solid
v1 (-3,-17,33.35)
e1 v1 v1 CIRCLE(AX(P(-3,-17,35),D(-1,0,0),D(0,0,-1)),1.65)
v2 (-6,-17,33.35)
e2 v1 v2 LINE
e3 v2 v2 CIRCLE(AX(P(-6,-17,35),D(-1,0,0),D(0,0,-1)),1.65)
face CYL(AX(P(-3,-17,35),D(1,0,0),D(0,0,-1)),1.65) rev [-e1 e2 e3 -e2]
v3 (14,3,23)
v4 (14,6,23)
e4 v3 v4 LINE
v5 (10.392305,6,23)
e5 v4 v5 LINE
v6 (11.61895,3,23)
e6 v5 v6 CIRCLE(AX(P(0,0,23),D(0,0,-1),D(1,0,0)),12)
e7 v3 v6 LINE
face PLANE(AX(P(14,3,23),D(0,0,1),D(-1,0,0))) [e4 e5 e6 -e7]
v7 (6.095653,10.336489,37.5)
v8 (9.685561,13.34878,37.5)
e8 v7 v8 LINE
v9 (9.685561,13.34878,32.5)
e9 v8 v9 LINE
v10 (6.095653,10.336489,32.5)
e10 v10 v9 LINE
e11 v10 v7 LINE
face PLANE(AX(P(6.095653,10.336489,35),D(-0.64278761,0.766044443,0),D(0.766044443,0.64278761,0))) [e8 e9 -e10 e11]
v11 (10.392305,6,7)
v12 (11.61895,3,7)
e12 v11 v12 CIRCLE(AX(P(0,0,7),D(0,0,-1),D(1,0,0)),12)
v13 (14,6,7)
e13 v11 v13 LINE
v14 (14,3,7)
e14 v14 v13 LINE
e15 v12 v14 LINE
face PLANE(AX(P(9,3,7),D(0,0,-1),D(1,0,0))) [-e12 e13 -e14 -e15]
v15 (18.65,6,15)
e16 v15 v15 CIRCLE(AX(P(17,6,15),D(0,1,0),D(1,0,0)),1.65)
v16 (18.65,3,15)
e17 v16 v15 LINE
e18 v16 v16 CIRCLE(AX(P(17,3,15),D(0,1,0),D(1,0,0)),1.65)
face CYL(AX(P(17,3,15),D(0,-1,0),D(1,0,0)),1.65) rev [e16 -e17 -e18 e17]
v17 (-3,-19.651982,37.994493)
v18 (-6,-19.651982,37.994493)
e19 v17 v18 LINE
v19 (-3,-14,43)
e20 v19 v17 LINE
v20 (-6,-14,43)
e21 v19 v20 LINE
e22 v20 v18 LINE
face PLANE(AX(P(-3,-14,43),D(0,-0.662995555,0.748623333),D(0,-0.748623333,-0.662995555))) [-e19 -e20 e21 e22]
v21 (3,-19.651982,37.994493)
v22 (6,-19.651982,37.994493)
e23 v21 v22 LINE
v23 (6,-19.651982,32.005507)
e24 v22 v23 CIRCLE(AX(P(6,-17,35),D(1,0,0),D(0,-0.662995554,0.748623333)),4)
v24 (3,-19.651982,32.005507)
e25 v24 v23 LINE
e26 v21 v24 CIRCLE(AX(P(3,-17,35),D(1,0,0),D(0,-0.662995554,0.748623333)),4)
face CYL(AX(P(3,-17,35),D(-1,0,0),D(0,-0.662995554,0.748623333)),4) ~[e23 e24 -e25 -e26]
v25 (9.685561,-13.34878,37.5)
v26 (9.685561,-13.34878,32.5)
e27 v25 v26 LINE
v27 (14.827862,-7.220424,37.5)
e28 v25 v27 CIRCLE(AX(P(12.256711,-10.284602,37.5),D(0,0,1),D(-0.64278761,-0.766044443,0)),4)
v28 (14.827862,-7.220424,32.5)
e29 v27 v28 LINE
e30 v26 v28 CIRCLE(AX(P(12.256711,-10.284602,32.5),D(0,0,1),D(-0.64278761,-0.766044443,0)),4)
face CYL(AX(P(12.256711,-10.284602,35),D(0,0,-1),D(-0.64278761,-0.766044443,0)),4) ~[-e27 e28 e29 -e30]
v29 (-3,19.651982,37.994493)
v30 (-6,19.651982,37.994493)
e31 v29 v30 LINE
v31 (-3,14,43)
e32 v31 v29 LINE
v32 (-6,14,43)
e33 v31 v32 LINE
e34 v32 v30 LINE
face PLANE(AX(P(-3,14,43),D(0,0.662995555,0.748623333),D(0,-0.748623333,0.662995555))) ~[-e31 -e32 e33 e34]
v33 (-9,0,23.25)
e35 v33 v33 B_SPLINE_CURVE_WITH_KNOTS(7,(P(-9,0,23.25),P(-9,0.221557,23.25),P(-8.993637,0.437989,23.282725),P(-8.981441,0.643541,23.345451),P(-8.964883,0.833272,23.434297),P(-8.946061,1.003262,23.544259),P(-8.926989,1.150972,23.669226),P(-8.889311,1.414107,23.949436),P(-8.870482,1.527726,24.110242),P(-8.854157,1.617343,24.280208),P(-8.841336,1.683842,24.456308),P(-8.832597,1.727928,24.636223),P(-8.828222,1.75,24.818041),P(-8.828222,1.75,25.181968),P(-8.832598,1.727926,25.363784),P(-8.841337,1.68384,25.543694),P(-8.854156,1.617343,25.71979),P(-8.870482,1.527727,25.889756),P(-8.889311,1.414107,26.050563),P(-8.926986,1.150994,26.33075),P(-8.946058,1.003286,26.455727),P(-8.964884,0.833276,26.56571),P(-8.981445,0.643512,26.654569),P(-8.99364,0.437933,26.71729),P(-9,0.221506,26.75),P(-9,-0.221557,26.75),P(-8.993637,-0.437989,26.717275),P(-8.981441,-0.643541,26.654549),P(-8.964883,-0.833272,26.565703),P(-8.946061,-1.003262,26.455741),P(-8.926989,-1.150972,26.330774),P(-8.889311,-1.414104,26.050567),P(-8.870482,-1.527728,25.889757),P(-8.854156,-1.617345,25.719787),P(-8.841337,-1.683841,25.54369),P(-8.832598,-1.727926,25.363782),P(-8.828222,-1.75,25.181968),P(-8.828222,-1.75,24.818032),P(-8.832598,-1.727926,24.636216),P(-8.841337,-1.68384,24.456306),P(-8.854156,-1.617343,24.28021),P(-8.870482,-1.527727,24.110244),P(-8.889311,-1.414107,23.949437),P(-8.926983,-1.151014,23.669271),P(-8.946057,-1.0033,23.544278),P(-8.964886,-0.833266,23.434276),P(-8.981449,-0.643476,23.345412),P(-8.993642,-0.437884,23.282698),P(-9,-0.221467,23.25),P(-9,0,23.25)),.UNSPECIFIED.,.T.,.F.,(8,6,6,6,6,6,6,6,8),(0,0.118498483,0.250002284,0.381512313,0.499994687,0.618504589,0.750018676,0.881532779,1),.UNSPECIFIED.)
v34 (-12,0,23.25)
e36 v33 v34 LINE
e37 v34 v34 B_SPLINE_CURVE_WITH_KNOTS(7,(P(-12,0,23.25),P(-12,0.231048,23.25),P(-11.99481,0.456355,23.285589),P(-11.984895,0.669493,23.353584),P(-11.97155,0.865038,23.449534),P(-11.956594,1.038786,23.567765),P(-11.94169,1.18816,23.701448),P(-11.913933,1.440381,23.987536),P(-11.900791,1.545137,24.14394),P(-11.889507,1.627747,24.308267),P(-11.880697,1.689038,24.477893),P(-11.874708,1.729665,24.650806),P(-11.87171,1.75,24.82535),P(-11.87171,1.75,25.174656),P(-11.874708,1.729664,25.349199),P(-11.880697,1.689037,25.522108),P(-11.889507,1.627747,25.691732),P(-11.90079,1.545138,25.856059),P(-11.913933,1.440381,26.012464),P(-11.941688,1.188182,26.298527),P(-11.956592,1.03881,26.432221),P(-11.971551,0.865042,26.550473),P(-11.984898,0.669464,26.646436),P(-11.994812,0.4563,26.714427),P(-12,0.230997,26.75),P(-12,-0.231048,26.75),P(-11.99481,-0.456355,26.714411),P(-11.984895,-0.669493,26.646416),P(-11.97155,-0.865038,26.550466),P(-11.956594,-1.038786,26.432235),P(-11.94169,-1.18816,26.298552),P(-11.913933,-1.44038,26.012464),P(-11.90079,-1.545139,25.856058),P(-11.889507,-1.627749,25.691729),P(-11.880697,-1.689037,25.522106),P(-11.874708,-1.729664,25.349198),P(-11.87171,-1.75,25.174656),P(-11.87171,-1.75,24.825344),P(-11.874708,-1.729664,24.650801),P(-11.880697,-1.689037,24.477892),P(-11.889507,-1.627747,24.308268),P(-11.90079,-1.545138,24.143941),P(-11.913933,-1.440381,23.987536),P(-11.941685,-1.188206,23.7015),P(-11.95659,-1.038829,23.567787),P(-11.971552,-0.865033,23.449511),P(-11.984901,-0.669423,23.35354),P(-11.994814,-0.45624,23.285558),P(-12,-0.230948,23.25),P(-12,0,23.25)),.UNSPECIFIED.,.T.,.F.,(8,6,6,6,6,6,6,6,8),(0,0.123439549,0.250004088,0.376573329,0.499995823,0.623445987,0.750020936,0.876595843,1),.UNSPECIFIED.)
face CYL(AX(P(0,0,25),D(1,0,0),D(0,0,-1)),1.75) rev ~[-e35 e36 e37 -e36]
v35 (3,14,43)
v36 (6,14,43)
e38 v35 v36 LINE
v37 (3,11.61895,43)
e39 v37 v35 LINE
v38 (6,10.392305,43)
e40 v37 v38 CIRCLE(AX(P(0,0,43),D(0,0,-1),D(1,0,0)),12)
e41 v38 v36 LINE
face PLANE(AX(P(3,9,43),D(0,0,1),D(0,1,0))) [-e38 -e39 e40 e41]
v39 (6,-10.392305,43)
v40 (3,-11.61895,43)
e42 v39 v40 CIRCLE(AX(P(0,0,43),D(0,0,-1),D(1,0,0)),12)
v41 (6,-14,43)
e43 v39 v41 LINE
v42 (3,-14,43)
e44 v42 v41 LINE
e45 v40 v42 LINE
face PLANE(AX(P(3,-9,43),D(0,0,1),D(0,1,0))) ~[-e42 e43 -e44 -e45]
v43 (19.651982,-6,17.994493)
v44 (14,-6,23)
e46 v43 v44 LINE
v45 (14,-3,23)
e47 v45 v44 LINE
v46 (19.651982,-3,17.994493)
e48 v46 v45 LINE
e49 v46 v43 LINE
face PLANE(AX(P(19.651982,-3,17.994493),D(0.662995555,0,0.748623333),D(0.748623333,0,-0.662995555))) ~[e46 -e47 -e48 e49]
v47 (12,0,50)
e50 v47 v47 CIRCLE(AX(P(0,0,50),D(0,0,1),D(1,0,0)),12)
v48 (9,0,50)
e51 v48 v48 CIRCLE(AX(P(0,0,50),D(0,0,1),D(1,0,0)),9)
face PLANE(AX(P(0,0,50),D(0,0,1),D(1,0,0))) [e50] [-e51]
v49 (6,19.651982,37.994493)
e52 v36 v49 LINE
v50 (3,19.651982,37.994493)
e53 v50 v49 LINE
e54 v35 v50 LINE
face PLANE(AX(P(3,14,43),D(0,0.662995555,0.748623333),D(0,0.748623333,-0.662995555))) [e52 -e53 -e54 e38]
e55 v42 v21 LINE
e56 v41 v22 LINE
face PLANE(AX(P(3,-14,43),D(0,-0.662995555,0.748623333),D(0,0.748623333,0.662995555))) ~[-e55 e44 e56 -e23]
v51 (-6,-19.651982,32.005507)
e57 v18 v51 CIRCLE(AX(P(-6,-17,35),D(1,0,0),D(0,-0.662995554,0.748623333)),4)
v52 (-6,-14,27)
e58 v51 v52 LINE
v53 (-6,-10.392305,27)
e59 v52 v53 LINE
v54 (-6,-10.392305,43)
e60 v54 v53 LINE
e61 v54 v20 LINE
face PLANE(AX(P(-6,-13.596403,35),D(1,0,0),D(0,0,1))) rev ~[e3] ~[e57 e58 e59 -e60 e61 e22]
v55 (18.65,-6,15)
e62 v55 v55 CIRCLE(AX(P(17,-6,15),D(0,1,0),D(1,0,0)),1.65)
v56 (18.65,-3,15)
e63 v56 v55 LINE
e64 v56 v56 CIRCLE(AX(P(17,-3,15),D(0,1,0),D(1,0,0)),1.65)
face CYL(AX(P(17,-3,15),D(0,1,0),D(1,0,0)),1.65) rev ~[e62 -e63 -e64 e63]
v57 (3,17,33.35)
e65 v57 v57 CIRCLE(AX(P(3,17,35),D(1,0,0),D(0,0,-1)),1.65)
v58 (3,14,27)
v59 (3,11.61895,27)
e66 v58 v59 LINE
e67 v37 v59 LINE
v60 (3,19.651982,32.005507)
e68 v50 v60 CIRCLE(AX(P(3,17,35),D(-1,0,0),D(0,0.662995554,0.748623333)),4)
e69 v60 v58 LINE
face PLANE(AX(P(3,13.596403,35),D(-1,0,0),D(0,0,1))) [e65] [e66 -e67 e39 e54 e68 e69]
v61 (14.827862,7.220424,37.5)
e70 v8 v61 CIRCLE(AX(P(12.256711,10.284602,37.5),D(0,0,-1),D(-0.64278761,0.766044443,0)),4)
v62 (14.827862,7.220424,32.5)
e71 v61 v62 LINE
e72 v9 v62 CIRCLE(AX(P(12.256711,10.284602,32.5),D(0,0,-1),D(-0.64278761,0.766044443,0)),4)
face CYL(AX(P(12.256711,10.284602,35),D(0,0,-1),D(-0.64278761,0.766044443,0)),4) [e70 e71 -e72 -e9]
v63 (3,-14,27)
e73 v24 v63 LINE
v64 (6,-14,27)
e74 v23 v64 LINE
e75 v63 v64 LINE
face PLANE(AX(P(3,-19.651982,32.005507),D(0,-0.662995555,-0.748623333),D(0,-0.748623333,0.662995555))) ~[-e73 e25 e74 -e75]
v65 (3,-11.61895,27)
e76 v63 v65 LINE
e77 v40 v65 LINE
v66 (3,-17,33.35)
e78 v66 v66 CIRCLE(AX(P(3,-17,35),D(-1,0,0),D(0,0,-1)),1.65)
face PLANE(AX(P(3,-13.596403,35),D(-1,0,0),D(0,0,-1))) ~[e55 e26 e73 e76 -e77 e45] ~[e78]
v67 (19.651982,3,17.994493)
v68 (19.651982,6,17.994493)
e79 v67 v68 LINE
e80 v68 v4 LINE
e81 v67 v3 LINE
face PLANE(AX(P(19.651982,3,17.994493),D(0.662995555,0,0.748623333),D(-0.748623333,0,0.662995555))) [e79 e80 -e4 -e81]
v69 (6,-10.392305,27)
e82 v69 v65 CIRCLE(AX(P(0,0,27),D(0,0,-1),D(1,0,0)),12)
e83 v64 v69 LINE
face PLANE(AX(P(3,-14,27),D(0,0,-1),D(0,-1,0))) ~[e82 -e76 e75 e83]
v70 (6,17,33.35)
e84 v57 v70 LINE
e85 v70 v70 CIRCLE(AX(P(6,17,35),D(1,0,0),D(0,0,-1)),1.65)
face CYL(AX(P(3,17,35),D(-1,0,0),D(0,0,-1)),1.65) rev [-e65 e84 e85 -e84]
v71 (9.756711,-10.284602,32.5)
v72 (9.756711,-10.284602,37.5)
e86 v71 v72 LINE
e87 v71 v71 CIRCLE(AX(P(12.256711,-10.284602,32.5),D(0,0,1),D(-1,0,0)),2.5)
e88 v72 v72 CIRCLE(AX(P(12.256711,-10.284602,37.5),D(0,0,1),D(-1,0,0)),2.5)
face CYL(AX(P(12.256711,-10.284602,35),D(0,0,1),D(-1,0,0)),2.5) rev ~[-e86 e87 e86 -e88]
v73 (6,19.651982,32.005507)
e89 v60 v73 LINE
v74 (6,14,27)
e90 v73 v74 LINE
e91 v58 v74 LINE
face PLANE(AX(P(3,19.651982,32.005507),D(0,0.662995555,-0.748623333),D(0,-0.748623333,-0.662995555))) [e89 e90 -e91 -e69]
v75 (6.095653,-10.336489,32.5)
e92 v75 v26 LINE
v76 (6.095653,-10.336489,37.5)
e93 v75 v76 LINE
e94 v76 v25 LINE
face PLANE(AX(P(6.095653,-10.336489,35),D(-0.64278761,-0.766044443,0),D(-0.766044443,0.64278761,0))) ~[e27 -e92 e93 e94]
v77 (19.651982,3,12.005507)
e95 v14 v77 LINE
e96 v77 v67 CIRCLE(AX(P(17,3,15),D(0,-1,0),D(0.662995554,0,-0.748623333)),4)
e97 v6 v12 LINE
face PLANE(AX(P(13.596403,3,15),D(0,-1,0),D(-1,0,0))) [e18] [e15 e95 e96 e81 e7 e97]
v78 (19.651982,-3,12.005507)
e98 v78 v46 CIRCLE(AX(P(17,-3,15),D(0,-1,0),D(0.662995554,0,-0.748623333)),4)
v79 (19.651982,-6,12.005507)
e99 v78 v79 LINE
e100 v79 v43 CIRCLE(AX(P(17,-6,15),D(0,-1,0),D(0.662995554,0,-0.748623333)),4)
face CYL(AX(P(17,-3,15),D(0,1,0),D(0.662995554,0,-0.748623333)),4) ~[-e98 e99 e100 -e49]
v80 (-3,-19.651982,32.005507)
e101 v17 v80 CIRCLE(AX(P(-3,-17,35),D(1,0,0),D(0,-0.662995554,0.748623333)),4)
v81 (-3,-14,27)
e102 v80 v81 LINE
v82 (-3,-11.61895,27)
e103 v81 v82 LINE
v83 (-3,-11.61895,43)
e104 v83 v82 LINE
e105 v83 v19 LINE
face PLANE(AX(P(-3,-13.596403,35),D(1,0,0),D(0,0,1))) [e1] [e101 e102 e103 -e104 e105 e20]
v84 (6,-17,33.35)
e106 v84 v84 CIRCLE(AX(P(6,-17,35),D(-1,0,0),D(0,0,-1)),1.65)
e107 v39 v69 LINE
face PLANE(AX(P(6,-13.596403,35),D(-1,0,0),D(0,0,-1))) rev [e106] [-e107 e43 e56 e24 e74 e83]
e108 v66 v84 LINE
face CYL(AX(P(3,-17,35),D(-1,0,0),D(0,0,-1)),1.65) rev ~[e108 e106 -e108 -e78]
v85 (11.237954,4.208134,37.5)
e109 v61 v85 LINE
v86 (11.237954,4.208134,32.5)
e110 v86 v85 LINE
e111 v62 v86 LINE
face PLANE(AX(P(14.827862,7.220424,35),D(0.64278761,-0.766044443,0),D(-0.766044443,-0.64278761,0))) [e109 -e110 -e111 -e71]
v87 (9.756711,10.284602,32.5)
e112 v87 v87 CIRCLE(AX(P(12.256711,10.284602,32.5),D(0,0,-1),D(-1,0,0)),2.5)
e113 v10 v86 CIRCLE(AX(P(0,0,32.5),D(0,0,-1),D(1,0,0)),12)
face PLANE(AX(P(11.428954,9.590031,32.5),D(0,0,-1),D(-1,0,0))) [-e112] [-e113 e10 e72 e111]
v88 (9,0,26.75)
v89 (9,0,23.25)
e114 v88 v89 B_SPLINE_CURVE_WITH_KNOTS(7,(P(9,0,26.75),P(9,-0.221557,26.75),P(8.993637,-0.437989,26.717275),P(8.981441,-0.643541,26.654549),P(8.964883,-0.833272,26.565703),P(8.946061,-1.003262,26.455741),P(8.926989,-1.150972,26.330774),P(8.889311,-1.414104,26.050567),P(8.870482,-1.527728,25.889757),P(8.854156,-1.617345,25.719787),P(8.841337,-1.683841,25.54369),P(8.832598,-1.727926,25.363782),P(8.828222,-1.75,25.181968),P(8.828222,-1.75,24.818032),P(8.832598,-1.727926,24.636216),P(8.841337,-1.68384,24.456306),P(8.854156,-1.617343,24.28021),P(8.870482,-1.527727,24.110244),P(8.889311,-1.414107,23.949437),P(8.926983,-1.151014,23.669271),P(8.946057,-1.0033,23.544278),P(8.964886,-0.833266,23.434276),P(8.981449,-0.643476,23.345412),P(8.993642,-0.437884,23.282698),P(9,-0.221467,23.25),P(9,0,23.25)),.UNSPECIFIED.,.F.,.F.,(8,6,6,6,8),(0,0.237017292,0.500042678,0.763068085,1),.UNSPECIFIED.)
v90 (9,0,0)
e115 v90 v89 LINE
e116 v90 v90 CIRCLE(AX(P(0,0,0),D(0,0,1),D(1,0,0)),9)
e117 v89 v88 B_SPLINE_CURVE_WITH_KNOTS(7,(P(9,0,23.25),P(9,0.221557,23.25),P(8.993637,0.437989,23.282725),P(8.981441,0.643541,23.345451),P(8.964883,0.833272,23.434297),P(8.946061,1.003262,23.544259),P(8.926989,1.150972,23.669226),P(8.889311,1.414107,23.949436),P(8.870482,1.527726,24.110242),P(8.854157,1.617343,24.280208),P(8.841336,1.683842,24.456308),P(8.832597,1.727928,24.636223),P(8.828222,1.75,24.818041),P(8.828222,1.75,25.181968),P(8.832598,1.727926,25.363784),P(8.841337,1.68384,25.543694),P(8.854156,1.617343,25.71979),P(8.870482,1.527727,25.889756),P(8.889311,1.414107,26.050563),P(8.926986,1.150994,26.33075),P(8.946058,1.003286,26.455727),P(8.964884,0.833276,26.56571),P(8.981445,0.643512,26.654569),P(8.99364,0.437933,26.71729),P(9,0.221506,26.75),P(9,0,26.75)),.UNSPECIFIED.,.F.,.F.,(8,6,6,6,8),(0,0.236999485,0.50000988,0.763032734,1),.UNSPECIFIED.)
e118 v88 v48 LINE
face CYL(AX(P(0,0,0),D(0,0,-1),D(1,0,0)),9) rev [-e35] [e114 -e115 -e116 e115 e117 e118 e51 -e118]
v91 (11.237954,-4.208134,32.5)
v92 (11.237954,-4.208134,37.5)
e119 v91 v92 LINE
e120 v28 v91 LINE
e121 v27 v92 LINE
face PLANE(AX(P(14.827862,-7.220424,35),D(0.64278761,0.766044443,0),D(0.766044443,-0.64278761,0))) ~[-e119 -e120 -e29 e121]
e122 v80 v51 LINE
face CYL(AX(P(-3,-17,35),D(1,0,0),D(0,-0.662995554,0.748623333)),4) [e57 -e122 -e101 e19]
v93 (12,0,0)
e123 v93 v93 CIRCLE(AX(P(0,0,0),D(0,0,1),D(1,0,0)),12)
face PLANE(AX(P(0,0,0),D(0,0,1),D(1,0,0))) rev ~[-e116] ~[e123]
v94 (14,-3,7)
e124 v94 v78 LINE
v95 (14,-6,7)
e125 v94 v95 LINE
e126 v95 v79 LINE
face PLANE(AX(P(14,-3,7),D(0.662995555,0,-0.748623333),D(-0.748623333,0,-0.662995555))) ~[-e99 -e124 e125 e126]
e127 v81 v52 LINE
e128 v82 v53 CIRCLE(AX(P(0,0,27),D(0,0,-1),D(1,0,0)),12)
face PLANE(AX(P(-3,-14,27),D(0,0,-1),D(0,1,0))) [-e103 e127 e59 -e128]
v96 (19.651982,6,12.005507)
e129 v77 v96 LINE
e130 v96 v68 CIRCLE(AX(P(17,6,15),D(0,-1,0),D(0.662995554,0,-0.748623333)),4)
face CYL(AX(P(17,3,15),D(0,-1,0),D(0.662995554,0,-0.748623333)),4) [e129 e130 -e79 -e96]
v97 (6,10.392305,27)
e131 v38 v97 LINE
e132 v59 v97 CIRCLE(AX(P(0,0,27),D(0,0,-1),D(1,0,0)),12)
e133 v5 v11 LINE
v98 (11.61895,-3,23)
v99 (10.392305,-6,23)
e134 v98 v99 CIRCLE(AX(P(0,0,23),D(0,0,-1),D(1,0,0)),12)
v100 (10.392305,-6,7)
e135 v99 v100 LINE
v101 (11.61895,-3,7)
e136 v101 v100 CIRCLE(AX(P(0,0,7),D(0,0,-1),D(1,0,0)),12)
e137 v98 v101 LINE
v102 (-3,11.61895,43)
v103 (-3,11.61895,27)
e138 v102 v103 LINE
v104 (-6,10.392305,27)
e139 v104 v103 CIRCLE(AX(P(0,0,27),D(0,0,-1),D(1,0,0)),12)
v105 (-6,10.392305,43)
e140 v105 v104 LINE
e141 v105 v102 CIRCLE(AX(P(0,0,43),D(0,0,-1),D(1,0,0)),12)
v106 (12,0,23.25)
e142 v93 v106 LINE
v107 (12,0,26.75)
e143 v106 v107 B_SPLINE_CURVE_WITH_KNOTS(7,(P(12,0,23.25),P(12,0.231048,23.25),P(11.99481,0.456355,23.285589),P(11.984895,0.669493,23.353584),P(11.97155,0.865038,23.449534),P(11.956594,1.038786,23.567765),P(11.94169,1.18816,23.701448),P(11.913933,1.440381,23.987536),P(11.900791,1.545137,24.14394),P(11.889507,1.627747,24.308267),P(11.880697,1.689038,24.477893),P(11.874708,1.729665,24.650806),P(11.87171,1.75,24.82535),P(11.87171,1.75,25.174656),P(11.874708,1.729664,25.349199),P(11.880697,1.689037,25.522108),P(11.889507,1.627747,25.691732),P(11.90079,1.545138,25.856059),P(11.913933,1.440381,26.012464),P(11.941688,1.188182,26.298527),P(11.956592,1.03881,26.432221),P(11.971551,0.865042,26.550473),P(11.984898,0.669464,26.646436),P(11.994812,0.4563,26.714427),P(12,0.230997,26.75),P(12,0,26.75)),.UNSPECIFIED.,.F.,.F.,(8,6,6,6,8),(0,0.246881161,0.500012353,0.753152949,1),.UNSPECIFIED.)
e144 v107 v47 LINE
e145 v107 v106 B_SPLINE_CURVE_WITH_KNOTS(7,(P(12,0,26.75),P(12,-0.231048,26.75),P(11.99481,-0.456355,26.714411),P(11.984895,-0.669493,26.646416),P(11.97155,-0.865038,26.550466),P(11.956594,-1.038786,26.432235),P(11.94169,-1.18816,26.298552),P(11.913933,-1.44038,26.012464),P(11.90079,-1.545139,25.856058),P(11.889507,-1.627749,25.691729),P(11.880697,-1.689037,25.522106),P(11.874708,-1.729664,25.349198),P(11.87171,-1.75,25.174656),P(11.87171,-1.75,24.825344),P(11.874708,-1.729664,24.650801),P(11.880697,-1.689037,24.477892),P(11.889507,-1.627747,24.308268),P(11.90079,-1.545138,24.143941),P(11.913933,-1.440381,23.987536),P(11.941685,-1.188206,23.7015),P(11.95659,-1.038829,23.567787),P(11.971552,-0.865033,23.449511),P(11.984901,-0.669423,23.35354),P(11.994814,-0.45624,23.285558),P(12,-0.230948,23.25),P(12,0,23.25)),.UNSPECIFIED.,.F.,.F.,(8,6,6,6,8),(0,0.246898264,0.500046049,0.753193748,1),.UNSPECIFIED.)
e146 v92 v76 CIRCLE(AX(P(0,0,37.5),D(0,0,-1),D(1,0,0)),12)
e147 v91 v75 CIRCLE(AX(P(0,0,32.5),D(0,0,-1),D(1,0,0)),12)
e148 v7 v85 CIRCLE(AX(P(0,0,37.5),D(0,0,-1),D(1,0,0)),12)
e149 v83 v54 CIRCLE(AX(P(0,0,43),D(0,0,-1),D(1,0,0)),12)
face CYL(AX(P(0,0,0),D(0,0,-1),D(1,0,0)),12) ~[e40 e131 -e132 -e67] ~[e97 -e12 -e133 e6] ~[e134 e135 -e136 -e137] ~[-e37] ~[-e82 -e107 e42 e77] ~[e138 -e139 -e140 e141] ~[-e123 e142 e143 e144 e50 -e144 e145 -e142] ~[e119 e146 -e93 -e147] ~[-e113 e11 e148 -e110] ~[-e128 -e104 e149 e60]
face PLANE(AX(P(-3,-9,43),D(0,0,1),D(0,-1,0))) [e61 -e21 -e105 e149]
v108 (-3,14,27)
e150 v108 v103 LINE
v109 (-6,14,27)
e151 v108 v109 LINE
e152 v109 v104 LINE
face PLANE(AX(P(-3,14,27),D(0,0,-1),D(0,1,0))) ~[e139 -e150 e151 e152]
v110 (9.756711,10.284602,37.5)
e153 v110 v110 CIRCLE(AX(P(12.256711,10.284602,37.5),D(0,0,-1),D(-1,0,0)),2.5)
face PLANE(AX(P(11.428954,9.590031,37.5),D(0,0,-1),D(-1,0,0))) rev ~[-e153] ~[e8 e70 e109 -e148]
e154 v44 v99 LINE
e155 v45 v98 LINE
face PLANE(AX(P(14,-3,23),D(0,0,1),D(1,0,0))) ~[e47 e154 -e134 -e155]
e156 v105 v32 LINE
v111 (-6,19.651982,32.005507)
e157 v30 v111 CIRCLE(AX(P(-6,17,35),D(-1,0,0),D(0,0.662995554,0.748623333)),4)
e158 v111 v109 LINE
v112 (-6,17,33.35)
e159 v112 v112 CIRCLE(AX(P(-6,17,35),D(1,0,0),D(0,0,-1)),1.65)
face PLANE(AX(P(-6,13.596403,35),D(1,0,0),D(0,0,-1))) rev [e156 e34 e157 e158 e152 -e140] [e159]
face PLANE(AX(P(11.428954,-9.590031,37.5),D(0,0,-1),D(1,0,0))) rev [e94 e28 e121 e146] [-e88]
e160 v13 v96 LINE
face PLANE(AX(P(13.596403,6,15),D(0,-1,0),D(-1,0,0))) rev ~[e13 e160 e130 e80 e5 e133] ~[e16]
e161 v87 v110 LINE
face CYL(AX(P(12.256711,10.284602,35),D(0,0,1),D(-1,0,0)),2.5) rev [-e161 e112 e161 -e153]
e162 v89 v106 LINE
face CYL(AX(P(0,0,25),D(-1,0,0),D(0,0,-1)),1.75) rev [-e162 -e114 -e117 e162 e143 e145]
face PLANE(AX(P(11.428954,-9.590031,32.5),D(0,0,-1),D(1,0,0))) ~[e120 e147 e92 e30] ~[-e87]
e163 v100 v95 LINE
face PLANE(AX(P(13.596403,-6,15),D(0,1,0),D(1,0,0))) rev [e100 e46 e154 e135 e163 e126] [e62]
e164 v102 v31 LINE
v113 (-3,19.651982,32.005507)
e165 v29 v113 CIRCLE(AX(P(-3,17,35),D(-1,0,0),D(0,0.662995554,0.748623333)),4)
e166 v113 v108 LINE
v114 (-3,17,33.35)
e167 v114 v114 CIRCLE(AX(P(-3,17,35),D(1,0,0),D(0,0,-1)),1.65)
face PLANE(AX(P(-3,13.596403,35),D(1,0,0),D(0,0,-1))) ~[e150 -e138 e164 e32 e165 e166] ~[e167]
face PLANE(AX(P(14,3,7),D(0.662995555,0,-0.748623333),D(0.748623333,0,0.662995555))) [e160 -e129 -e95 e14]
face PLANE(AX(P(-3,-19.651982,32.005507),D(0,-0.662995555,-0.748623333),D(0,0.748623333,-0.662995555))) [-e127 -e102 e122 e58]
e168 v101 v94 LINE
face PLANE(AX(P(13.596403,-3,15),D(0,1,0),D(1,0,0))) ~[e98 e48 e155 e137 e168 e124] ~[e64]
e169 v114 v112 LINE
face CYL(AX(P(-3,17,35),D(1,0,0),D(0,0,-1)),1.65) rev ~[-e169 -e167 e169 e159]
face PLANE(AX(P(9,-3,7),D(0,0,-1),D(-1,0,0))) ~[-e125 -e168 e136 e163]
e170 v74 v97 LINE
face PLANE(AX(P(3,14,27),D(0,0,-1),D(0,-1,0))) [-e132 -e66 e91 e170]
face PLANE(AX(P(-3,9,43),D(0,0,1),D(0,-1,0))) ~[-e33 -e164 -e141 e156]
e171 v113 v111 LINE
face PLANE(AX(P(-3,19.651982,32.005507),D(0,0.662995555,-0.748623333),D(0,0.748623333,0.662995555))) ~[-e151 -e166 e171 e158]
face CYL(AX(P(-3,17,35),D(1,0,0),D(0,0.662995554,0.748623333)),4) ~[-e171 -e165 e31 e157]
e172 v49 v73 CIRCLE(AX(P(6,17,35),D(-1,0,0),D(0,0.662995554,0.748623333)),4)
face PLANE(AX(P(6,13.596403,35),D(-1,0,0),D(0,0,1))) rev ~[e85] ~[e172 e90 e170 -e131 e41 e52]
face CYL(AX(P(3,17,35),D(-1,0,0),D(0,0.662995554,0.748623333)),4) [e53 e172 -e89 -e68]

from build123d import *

# Parameters (mm, degrees)
SKETCH_1_R               = 12
SKETCH_1_R_2             = 9
EXTRUDE_1_DEPTH          = 50
SKETCH_2_R               = 1.65
EXTRUDE_2_DEPTH          = 3
SKETCH_3_R               = 1.75
CUT_EXTRUDE_1_DEPTH      = 13
CUT_EXTRUDE_1_DEPTH_BACK = 13
MIRROR_2_COPY_1_SKETCH_R = 1.65
MIRROR_2_COPY_1_DEPTH    = 3
SKETCH_5_R               = 1.65
EXTRUDE_3_DEPTH          = 3
SKETCH_6_R               = 2.5
EXTRUDE_4_DEPTH          = 2.5


with BuildPart() as part:
    # ｽｹｯﾁ1 → ﾎﾞｽ - 押し出し1 (new body)
    with BuildSketch(Plane.XY):
        Circle(SKETCH_1_R)
        Circle(SKETCH_1_R_2, mode=Mode.SUBTRACT)
    extrude(amount=EXTRUDE_1_DEPTH)

    # ｽｹｯﾁ2 → ﾎﾞｽ - 押し出し2 (add)
    with BuildSketch(Plane(origin=(3, 0, 0), x_dir=(0, 0, -1), z_dir=(1, 0, 0))):
        with BuildLine():
            Line((-43, 9), (-43, 14))
            Line((-43, 14), (-37.994493332, 19.651982218))
            ThreePointArc((-37.994493332, 19.651982218), (-35, 21), (-32.005506668, 19.651982218))
            Line((-32.005506668, 19.651982218), (-27, 14))
            Line((-27, 14), (-27, 9))
            Line((-27, 9), (-43, 9))
        make_face()
        with Locations((-35, 17)):
            Circle(SKETCH_2_R, mode=Mode.SUBTRACT)
    extrude_2 = extrude(amount=EXTRUDE_2_DEPTH)

    # ﾐﾗｰ1: ﾎﾞｽ - 押し出し2 across plane
    add(extrude_2.mirror(Plane(origin=(0, 0, 0), x_dir=(0, 0, 1), z_dir=(1, 0, 0))))

    # ｽｹｯﾁ3 → ｶｯﾄ - 押し出し1 (cut, two sides)
    with BuildSketch(Plane(origin=(0, 0, 0), x_dir=(0, 0, -1), z_dir=(1, 0, 0))) as cut_extrude_1_sk:
        with Locations((-25, 0)):
            Circle(SKETCH_3_R)
    extrude(amount=CUT_EXTRUDE_1_DEPTH, mode=Mode.SUBTRACT)
    extrude(cut_extrude_1_sk.sketch, amount=-CUT_EXTRUDE_1_DEPTH_BACK, mode=Mode.SUBTRACT)

    # ﾐﾗｰ2: ﾎﾞｽ - 押し出し2 across plane
    add(extrude_2.mirror(Plane.ZX))

    # ﾐﾗｰ2 copy 1 sketch → ﾐﾗｰ2 copy 1 (add)
    with BuildSketch(Plane(origin=(-3, 0, 0), x_dir=(0, 0, -1), z_dir=(-1, 0, 0))):
        with BuildLine():
            Line((-43, 9), (-43, 14))
            Line((-43, 14), (-37.994493332, 19.651982218))
            ThreePointArc((-37.994493332, 19.651982218), (-35, 21), (-32.005506668, 19.651982218))
            Line((-32.005506668, 19.651982218), (-27, 14))
            Line((-27, 14), (-27, 9))
            Line((-27, 9), (-43, 9))
        make_face()
        with Locations((-35, 17)):
            Circle(MIRROR_2_COPY_1_SKETCH_R, mode=Mode.SUBTRACT)
    extrude(amount=MIRROR_2_COPY_1_DEPTH)

    # ｽｹｯﾁ5 → ﾎﾞｽ - 押し出し3 (add)
    with BuildSketch(Plane(origin=(0, 3, 0), x_dir=(1, 0, 0), z_dir=(0, 1, 0))):
        with BuildLine():
            Line((9, -7), (14, -7))
            Line((14, -7), (19.651982218, -12.005506668))
            ThreePointArc((19.651982218, -12.005506668), (21, -15), (19.651982218, -17.994493332))
            Line((19.651982218, -17.994493332), (14, -23))
            Line((14, -23), (9, -23))
            Line((9, -23), (9, -7))
        make_face()
        with Locations((17, -15)):
            Circle(SKETCH_5_R, mode=Mode.SUBTRACT)
    extrude_3 = extrude(amount=EXTRUDE_3_DEPTH)

    # ﾐﾗｰ3: ﾎﾞｽ - 押し出し3 across plane
    add(extrude_3.mirror(Plane.ZX))

    # ｽｹｯﾁ6 → ﾎﾞｽ - 押し出し4 (add, symmetric)
    with BuildSketch(Plane(origin=(0, 0, 35), x_dir=(-1, 0, 0), z_dir=(0, 0, -1))):
        with BuildLine():
            Line((-6.095653088, 10.336489415), (-9.685560651, 13.348779527))
            ThreePointArc((-9.685560651, 13.348779527), (-15.320888862, 12.855752194), (-14.827861529, 7.220423983))
            Line((-14.827861529, 7.220423983), (-11.237953965, 4.20813387))
            Line((-11.237953965, 4.20813387), (-6.095653088, 10.336489415))
        make_face()
        with Locations((-12.25671109, 10.284601755)):
            Circle(SKETCH_6_R, mode=Mode.SUBTRACT)
    extrude_4 = extrude(amount=EXTRUDE_4_DEPTH, both=True)

    # ﾐﾗｰ4: ﾎﾞｽ - 押し出し4 across plane
    add(extrude_4.mirror(Plane.ZX))


solid = part.part
